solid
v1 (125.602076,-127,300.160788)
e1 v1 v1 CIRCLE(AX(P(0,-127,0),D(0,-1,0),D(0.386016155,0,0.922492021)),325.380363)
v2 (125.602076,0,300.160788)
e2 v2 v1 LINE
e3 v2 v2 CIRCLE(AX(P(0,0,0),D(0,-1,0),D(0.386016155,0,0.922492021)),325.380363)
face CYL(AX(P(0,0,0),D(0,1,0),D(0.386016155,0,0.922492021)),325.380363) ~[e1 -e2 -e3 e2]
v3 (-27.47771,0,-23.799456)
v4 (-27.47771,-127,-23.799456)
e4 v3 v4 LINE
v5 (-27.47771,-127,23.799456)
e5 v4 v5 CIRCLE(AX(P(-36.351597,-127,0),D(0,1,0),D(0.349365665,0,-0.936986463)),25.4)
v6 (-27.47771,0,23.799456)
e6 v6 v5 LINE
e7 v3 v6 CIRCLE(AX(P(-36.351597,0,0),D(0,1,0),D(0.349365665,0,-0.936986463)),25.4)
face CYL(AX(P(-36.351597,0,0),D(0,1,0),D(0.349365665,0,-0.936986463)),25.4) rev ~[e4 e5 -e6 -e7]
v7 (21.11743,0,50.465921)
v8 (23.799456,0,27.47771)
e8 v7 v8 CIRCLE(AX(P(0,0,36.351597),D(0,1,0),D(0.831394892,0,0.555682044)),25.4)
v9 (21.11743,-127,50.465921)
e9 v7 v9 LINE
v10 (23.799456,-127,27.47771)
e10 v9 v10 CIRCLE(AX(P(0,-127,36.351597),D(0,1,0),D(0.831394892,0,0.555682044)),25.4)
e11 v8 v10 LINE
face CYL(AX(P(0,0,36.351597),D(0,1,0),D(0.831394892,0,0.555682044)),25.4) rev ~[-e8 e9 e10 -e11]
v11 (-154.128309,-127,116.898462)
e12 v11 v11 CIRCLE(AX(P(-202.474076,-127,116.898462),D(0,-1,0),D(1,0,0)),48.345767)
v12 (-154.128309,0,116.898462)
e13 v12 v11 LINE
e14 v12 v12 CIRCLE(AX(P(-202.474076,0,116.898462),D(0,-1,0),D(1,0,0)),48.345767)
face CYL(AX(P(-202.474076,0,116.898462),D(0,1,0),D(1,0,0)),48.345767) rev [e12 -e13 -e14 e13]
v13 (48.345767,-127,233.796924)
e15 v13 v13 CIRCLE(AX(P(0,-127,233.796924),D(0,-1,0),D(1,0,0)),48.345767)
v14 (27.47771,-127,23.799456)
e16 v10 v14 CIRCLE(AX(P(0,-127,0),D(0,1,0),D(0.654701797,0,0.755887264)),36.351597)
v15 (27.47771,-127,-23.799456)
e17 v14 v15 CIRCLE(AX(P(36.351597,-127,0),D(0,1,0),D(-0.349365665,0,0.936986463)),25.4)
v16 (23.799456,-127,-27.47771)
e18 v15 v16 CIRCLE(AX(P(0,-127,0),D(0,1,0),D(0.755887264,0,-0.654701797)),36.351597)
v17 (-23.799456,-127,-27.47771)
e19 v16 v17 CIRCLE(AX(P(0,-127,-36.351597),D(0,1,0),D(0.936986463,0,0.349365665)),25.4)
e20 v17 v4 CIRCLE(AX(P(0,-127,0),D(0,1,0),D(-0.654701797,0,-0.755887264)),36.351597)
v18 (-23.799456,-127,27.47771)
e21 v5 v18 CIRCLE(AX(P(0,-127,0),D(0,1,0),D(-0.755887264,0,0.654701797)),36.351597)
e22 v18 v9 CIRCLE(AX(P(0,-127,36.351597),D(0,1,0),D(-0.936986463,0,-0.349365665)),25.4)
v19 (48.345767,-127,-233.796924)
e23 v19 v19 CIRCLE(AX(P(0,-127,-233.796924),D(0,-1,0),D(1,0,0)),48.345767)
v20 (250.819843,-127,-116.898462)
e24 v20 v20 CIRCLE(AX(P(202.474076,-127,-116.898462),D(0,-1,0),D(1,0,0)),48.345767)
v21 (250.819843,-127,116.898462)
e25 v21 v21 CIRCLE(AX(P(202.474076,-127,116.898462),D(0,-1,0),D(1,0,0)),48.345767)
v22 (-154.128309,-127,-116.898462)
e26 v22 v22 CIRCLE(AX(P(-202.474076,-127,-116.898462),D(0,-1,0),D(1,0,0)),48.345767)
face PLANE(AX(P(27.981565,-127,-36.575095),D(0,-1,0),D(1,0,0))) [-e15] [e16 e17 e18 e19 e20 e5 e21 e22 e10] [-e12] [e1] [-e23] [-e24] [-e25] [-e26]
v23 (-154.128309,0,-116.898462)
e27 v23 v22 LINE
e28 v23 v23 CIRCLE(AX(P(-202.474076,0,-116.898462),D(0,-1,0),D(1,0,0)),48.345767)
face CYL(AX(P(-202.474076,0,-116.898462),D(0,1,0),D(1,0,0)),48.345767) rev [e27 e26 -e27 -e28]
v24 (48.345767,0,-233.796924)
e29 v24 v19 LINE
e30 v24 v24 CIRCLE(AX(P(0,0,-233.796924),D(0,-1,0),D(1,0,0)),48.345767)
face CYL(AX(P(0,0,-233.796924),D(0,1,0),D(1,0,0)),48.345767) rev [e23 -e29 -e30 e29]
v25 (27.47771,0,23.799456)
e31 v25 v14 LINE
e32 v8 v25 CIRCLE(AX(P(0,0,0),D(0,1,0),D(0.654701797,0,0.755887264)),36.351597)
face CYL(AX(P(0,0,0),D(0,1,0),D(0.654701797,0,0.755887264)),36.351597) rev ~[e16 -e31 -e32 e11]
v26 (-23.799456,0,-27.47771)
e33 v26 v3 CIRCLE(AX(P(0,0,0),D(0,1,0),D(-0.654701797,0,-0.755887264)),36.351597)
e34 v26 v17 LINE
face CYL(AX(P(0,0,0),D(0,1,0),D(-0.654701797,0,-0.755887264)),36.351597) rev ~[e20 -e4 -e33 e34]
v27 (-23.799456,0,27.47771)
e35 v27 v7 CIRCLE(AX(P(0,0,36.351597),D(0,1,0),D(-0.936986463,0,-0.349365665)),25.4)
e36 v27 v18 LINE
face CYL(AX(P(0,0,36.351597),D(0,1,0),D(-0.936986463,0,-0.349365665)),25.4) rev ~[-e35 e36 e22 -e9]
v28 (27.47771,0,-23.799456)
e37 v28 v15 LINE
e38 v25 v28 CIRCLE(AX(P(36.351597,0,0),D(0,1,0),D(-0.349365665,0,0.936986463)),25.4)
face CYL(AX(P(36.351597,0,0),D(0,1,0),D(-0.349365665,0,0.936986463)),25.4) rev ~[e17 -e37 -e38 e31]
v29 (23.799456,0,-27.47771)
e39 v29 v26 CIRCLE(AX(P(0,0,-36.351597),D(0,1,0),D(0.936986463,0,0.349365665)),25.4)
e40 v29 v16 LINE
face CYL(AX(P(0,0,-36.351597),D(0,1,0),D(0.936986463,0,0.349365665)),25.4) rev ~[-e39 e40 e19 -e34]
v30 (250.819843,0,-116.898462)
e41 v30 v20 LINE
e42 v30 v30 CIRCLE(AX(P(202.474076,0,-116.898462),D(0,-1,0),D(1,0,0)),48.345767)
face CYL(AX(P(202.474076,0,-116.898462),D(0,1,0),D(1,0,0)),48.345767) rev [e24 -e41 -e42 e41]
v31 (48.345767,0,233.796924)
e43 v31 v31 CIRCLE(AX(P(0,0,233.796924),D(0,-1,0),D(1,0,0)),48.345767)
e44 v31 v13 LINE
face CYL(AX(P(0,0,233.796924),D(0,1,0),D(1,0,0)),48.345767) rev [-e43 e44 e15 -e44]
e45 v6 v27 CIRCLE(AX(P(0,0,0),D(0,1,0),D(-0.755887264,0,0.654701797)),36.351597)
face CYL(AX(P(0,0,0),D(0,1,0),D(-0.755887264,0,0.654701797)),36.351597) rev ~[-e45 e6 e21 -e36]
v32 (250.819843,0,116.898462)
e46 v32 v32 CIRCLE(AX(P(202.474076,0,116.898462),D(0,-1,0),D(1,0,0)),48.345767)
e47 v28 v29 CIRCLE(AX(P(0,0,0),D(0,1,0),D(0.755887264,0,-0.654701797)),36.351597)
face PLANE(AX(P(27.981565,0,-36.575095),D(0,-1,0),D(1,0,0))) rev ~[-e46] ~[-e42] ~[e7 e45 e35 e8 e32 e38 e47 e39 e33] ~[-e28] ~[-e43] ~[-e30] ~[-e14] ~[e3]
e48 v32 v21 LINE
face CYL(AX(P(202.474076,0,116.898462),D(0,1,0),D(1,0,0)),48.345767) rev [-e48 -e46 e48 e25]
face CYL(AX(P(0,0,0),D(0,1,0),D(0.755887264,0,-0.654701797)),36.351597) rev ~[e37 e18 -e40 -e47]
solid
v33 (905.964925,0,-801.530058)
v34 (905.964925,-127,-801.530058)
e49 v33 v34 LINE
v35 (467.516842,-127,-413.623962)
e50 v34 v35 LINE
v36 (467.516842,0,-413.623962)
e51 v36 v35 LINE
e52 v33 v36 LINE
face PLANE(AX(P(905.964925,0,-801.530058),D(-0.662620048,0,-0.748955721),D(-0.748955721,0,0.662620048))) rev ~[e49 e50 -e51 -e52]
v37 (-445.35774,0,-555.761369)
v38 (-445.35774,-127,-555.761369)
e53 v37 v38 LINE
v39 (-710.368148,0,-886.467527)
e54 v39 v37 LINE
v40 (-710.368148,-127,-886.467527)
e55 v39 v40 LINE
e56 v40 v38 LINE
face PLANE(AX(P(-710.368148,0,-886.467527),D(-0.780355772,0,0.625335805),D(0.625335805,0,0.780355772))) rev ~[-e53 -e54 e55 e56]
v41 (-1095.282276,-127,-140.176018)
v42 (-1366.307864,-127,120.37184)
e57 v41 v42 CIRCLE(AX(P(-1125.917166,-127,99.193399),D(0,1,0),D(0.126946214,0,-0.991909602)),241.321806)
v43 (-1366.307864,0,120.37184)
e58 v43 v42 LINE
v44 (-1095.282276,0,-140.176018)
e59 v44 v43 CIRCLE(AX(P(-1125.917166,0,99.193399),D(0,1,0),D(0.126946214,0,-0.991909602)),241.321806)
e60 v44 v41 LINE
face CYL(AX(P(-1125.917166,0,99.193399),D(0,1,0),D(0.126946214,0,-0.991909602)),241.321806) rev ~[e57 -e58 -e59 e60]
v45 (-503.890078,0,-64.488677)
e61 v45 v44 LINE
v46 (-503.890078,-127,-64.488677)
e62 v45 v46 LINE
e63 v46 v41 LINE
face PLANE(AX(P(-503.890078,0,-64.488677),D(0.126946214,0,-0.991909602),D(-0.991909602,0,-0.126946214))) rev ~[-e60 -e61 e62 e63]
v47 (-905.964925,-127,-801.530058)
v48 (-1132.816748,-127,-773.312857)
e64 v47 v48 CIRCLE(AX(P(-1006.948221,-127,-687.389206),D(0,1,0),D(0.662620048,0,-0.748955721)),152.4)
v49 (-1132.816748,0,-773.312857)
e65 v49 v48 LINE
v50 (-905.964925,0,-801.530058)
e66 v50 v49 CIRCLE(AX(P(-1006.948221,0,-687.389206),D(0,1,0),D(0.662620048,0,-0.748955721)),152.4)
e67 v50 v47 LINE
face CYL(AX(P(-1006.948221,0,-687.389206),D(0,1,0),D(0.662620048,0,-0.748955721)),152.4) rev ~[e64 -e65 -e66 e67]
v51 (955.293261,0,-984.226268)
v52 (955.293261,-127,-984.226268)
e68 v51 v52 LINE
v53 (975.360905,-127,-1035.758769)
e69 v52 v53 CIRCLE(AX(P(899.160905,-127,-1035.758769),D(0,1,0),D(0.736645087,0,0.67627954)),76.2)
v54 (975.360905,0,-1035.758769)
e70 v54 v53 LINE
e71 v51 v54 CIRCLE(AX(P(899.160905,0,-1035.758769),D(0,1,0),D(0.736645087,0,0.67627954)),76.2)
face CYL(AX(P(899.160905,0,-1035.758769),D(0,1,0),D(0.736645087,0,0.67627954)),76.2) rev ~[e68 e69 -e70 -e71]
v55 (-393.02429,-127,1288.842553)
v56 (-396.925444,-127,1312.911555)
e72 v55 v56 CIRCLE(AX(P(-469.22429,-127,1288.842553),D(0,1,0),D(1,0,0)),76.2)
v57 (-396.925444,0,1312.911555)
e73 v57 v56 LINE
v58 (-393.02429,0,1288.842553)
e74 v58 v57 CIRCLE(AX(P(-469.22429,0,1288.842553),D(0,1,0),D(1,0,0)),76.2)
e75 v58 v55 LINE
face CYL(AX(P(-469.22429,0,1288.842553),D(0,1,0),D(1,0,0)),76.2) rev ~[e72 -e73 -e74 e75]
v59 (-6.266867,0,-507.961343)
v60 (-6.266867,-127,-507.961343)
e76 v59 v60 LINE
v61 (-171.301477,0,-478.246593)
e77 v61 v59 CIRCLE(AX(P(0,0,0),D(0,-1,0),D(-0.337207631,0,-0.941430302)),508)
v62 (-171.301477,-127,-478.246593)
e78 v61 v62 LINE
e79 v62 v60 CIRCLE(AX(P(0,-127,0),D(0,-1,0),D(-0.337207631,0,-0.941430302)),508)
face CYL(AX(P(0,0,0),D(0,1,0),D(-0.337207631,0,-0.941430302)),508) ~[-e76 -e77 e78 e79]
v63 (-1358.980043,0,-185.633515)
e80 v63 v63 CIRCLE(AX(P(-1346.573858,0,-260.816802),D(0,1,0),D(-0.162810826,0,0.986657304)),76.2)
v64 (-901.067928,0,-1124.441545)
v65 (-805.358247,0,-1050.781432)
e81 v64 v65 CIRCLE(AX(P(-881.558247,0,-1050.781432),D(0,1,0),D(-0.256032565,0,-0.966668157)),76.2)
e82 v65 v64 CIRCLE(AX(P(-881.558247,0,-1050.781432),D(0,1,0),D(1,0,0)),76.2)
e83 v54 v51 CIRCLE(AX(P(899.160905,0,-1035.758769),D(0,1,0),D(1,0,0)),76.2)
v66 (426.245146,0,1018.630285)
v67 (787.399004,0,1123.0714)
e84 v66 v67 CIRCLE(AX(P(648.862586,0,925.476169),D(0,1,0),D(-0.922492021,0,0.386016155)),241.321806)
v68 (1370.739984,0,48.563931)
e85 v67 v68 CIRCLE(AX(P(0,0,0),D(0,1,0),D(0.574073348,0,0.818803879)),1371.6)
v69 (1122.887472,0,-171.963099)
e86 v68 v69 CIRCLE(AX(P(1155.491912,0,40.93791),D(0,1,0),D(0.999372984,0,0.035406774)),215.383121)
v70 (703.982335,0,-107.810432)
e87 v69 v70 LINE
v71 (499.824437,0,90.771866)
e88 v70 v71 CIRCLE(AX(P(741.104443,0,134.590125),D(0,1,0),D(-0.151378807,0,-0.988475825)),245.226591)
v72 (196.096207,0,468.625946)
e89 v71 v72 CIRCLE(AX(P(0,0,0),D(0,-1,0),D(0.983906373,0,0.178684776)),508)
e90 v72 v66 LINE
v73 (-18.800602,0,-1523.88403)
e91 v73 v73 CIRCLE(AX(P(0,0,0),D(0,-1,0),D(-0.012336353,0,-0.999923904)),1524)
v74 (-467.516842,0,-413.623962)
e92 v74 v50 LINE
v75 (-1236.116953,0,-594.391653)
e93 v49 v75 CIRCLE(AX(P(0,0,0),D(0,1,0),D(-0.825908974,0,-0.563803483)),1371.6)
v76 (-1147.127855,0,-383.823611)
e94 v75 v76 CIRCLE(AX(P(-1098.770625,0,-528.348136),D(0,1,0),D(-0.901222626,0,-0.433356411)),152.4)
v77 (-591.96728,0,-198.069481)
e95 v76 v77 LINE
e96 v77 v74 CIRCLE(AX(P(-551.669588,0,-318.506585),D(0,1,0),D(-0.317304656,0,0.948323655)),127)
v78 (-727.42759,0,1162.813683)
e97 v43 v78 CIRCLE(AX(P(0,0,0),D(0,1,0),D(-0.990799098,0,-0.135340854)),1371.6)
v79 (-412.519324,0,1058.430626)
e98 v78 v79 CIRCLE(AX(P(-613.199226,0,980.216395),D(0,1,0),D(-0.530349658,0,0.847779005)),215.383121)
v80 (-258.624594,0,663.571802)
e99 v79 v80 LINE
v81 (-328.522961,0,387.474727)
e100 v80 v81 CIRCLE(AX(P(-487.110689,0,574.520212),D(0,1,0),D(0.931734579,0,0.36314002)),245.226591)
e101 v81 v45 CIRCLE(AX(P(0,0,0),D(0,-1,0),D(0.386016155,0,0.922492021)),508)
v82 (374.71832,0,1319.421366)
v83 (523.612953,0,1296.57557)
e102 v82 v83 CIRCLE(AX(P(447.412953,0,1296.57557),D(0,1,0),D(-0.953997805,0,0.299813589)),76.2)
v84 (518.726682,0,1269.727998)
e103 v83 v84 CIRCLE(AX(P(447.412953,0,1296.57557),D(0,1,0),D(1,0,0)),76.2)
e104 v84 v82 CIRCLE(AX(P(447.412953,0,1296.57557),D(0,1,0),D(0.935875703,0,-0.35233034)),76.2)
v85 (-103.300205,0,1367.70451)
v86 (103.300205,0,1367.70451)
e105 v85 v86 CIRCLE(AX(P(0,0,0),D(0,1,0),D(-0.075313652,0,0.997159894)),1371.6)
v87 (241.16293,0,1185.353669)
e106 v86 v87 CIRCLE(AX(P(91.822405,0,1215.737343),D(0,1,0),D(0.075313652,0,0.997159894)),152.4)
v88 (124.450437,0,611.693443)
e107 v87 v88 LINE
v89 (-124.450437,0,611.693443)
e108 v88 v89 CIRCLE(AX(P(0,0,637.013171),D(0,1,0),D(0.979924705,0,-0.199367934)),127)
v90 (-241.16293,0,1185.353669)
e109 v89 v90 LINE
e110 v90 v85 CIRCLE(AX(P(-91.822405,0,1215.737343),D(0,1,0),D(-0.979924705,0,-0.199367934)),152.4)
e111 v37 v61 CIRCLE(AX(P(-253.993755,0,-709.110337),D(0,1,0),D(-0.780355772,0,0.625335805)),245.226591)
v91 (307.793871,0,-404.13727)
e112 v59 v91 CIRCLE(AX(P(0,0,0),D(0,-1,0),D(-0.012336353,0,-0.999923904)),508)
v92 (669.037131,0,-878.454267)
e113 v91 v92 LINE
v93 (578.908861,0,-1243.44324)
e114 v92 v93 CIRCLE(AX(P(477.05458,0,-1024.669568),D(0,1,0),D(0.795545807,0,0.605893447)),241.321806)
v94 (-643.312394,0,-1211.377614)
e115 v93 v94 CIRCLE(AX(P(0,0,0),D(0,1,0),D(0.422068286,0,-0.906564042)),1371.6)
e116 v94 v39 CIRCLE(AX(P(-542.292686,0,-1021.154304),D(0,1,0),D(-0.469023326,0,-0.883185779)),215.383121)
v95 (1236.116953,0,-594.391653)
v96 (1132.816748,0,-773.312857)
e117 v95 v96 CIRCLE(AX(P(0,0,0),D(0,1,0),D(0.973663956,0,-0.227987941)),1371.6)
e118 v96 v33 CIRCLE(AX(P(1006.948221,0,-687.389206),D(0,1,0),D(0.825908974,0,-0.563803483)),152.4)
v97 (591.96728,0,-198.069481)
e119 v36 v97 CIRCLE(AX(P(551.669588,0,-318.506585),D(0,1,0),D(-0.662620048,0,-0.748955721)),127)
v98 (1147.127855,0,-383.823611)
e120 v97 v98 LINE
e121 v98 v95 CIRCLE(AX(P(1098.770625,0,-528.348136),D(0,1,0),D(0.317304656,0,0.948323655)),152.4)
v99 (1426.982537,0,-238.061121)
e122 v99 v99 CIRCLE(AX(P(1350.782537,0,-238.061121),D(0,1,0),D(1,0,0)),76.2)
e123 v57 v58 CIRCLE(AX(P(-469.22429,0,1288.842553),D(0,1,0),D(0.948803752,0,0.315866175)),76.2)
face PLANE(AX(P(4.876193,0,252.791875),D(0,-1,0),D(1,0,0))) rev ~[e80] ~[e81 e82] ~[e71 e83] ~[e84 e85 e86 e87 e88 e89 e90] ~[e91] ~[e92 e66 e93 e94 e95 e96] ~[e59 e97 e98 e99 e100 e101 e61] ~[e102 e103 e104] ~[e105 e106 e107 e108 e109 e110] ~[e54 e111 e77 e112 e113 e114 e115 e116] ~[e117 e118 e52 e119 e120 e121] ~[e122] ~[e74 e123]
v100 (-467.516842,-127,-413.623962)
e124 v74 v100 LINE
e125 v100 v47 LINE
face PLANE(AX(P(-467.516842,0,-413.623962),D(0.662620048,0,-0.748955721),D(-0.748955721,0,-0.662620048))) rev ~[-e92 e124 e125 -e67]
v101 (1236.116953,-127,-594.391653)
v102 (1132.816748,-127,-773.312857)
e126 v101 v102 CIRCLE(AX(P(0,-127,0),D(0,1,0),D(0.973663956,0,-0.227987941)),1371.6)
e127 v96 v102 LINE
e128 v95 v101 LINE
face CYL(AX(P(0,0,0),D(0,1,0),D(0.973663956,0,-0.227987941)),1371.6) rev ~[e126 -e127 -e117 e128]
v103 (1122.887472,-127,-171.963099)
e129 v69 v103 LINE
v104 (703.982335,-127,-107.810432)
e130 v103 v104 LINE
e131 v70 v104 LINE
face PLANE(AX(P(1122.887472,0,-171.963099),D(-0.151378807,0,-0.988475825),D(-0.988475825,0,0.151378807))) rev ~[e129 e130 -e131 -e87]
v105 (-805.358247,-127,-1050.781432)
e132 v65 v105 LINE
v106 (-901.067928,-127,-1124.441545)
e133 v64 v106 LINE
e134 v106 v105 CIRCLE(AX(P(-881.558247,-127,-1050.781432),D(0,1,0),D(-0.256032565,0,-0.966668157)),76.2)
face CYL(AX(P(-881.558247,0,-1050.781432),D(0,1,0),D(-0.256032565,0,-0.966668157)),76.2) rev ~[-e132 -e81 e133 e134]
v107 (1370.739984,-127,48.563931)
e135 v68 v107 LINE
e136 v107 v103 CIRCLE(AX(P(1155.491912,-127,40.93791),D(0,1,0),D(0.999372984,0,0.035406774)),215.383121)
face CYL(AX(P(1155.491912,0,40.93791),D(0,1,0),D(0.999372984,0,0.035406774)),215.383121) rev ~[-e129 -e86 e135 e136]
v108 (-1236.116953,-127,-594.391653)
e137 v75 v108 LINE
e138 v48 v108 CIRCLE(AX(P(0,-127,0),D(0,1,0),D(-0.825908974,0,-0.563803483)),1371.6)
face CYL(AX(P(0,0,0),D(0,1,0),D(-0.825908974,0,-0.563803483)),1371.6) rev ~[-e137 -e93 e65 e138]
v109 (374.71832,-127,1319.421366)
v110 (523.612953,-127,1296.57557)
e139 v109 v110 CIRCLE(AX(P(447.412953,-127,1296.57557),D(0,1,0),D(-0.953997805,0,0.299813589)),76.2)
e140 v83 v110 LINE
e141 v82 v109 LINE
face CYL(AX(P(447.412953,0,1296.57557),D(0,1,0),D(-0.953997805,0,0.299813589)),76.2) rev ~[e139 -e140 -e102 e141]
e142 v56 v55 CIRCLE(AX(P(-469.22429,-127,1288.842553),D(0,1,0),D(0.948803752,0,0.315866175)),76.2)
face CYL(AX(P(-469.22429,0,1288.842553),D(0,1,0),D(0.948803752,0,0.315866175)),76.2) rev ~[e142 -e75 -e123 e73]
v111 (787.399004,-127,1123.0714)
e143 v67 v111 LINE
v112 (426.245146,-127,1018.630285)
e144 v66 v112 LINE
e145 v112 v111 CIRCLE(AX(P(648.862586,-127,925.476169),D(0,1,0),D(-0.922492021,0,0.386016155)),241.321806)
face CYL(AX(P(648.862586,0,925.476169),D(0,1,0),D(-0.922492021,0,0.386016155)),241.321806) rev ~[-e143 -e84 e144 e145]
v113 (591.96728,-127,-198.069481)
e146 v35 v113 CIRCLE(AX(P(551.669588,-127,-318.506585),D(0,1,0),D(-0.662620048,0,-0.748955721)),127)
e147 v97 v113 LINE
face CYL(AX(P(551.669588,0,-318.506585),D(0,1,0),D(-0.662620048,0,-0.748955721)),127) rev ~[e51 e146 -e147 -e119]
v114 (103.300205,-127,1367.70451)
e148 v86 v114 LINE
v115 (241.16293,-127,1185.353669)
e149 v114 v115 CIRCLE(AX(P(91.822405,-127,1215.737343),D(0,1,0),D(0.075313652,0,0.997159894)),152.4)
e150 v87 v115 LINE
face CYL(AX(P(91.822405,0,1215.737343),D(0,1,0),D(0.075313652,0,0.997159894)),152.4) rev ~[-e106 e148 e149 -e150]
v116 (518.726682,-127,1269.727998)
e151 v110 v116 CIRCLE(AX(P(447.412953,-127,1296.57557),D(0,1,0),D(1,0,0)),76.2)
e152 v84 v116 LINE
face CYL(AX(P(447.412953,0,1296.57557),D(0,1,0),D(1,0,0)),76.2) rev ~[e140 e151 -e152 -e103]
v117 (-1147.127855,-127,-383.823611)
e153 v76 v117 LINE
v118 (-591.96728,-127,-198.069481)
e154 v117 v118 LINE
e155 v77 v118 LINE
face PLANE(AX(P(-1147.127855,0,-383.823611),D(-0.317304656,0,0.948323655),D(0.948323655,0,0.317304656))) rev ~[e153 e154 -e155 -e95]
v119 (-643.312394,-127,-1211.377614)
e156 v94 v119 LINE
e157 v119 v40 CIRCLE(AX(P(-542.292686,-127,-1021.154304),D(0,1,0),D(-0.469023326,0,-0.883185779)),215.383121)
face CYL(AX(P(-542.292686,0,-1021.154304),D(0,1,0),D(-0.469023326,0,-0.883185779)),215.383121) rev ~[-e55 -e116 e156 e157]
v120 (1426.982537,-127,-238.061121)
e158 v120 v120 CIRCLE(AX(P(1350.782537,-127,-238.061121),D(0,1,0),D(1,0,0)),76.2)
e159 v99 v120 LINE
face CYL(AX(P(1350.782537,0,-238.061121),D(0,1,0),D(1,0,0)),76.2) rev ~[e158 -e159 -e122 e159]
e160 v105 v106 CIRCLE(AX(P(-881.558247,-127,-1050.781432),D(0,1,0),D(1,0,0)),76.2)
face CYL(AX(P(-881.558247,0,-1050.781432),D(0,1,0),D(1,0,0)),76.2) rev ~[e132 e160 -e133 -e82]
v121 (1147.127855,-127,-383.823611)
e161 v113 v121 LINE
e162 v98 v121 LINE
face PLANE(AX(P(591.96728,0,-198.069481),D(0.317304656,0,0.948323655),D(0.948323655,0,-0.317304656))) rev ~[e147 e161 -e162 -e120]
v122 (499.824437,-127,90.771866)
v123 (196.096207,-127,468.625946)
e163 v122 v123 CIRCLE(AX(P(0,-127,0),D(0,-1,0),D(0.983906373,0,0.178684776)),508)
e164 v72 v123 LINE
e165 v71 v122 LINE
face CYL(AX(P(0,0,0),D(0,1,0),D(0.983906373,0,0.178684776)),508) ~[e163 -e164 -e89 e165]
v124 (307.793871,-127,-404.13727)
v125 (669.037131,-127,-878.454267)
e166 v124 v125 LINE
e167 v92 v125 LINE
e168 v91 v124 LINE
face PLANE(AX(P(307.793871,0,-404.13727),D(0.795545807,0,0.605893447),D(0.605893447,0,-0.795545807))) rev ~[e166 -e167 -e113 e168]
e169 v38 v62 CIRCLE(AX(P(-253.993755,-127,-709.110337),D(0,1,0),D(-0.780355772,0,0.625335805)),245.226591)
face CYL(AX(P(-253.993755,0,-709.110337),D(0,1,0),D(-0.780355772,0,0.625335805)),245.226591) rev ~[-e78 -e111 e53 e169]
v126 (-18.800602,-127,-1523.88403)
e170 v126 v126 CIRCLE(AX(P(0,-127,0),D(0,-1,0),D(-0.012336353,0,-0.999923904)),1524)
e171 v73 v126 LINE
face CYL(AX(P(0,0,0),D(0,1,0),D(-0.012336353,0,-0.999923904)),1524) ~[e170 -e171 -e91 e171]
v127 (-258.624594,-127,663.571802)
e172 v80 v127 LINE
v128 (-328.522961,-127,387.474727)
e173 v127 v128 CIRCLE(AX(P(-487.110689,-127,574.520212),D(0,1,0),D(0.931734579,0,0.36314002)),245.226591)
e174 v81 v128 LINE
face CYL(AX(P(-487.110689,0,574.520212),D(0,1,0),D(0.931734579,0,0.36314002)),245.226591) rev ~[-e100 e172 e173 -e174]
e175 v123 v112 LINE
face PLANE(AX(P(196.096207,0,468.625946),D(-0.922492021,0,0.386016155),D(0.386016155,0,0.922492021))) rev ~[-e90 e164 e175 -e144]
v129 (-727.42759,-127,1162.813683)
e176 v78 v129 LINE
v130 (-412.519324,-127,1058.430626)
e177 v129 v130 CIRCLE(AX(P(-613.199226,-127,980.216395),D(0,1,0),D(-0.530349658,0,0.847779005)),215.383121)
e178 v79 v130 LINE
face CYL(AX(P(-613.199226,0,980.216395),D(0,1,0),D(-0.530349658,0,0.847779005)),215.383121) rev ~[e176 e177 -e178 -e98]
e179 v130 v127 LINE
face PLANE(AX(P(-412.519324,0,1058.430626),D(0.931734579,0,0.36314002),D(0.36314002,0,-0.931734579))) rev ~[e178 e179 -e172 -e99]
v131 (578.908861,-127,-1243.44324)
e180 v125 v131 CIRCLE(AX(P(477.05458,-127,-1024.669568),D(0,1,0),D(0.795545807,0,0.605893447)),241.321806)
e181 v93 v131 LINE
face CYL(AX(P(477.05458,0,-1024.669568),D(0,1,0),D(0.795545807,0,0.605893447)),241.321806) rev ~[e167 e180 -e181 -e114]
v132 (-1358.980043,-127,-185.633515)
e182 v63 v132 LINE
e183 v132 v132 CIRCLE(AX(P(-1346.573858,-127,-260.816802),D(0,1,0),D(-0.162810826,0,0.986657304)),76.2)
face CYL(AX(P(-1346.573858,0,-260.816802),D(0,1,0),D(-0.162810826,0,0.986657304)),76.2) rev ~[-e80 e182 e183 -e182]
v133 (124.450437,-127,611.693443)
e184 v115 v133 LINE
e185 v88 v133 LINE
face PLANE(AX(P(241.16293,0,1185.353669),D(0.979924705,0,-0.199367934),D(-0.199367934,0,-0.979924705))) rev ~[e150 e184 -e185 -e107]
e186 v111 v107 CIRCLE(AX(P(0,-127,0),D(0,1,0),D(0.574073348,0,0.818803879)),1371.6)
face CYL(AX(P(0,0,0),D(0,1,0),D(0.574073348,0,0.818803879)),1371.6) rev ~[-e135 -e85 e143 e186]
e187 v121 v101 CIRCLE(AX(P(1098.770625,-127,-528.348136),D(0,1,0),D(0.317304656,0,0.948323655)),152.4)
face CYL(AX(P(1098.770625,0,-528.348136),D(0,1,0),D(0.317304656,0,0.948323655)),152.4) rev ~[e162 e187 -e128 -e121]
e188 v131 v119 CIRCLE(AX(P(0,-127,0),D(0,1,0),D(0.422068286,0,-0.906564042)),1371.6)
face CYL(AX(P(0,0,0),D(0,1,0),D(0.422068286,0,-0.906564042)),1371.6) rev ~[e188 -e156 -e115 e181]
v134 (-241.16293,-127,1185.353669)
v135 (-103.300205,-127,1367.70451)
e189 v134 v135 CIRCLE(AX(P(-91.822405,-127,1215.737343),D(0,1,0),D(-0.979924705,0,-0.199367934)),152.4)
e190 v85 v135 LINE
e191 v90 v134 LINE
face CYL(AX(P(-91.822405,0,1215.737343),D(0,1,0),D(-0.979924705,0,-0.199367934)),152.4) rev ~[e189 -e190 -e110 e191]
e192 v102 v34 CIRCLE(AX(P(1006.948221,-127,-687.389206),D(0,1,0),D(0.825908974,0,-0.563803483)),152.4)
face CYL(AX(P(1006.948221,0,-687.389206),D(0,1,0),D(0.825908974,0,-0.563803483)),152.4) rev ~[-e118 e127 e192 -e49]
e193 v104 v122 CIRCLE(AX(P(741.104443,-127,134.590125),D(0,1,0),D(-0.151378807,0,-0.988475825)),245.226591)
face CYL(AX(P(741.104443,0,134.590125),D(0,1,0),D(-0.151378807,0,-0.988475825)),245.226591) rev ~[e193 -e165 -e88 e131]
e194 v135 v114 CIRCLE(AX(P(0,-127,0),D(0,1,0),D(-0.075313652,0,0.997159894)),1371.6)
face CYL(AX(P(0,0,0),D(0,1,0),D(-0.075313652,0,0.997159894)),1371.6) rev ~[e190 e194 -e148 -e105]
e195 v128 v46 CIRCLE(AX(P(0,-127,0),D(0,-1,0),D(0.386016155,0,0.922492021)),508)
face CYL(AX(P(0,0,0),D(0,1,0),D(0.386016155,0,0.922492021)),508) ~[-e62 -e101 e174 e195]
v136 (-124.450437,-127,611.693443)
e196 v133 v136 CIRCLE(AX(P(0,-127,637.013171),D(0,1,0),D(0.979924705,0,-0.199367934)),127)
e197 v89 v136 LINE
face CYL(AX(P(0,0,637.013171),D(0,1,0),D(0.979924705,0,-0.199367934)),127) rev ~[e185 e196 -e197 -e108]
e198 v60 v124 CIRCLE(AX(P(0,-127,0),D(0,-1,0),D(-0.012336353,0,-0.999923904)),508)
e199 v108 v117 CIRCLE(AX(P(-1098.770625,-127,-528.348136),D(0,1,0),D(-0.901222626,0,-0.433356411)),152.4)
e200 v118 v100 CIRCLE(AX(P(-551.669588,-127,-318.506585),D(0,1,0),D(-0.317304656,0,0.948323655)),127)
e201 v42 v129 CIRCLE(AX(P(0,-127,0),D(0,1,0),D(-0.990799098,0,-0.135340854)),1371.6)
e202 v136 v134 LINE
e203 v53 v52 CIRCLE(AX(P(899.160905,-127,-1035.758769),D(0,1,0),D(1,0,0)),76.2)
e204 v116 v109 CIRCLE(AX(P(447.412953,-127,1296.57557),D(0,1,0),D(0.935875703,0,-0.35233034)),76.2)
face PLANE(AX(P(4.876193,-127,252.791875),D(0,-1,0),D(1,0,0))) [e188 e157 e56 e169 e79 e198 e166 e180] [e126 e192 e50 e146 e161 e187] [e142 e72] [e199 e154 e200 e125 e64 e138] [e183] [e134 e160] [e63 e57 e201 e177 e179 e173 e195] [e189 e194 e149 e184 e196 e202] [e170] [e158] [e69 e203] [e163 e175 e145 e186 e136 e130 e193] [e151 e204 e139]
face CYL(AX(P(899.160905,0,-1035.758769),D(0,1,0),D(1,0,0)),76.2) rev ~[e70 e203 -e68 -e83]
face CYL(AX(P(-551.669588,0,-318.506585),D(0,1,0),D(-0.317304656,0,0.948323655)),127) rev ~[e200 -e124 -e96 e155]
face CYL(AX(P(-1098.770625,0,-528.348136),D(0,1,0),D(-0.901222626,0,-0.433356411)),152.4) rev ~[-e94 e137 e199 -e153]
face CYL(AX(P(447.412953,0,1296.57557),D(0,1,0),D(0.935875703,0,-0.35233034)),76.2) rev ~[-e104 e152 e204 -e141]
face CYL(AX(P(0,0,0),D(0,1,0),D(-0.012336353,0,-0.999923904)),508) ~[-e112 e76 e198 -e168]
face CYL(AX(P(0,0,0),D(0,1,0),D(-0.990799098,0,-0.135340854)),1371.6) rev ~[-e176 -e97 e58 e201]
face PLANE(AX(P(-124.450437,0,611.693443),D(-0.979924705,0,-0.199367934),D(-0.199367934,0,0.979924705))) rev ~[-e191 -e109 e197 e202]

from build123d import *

# Parameters (mm, degrees)
F2_DEPTH = 127
F1_R     = 48.3457667833


with BuildPart() as f2:
    # F0 (on Front) → F2 (new body)
    with BuildSketch(Plane.XZ):
        with BuildLine():
            ThreePointArc((923.3816135664, -1212.4118094639), (1365.6151689029, -676.5140135004), (1524, 0))
            ThreePointArc((1524, 0), (-659.6158227538, 1373.8569672178), (-953.0117668935, -1189.2621965582))
            Line((-953.0117668935, -1189.2621965582), (-901.06792843, -1124.4415452559))
            ThreePointArc((-901.06792843, -1124.4415452559), (-954.5101555684, -1072.7918617611), (-938.5520375408, -1000.2032957494))
            ThreePointArc((-938.5520375408, -1000.2032957494), (-1041.879061799, -892.0619824793), (-1132.816748196, -773.3128571327))
            ThreePointArc((-1132.816748196, -773.3128571327), (-1187.8404438307, -685.8), (-1236.116953448, -594.3916532039))
            ThreePointArc((-1236.116953448, -594.3916532039), (-1289.592814675, -467.158358952), (-1330.0115812275, -335.1950981158))
            ThreePointArc((-1330.0115812275, -335.1950981158), (-1421.3835171304, -275.3066240214), (-1358.9800432853, -185.6335151645))
            ThreePointArc((-1358.9800432853, -185.6335151645), (-1371.2069005805, -32.8358919538), (-1366.3078643285, 120.3718400376))
            ThreePointArc((-1366.3078643285, 120.3718400376), (-1169.4457180172, 716.7170101311), (-727.4275903268, 1162.8136827675))
            ThreePointArc((-727.4275903268, 1162.8136827675), (-545.4318092729, 1184.6606808968), (-412.5193238552, 1058.4306255663))
            Line((-412.5193238552, 1058.4306255663), (-258.6245941259, 663.5718016536))
            ThreePointArc((-258.6245941259, 663.5718016536), (-249.3840923253, 514.3359426127), (-328.5229608551, 387.4747271643))
            ThreePointArc((-328.5229608551, 387.4747271643), (-77.6568825305, 502.0292905754), (196.0962066869, 468.6259464893))
            Line((196.0962066869, 468.6259464893), (274.916742518, 656.989346428))
            Line((274.916742518, 656.989346428), (426.2451457015, 1018.6302846731))
            ThreePointArc((426.2451457015, 1018.6302846731), (581.8223651272, 1157.2989954769), (787.3990035371, 1123.0713998802))
            ThreePointArc((787.3990035371, 1123.0713998802), (1205.4179971066, 654.4111950843), (1370.7399843082, 48.5639312529))
            ThreePointArc((1370.7399843082, 48.5639312529), (1370.4056079427, -57.2278753689), (1361.918510577, -162.6792259253))
            ThreePointArc((1361.918510577, -162.6792259253), (1408.4670288991, -188.2721722387), (1426.9825371601, -238.0611209403))
            ThreePointArc((1426.9825371601, -238.0611209403), (1398.9499264628, -297.1063799181), (1335.4774818383, -312.7082594092))
            ThreePointArc((1335.4774818383, -312.7082594092), (1293.4878694769, -456.2627439493), (1236.116953448, -594.3916532039))
            ThreePointArc((1236.116953448, -594.3916532039), (1187.8404438307, -685.8), (1132.816748196, -773.3128571327))
            ThreePointArc((1132.816748196, -773.3128571327), (1049.3674137801, -883.2409585704), (955.293260806, -984.2262676126))
            ThreePointArc((955.293260806, -984.2262676126), (970.1669806175, -1008.1077784909), (975.3609051769, -1035.7587685371))
            ThreePointArc((975.3609051769, -1035.7587685371), (924.8288343597, -1107.5055274288), (840.2533615689, -1084.0944831389))
            ThreePointArc((840.2533615689, -1084.0944831389), (835.655896823, -1087.6423043009), (831.0434522097, -1091.1706285175))
            Line((831.0434522097, -1091.1706285175), (923.3816135664, -1212.4118094639))
        make_face()
        with BuildLine():
            ThreePointArc((124.4504374868, 611.6934428334), (0, 510.0131705043), (-124.4504374868, 611.6934428334))
            Line((-124.4504374868, 611.6934428334), (-241.1629296527, 1185.3536693162))
            ThreePointArc((-241.1629296527, 1185.3536693162), (-213.3896320154, 1307.6458254551), (-103.300205252, 1367.7045103365))
            ThreePointArc((-103.300205252, 1367.7045103365), (0, 1371.6), (103.300205252, 1367.7045103365))
            ThreePointArc((103.300205252, 1367.7045103365), (213.3896320154, 1307.6458254551), (241.1629296527, 1185.3536693162))
            Line((241.1629296527, 1185.3536693162), (124.4504374868, 611.6934428334))
        make_face(mode=Mode.SUBTRACT)
        with BuildLine():
            ThreePointArc((-393.0242901923, 1288.8425526392), (-454.9480416585, 1213.991843038), (-540.0749129692, 1260.7956410066))
            ThreePointArc((-540.0749129692, 1260.7956410066), (-495.2923063141, 1360.4449166747), (-396.9254442975, 1312.9115551587))
            ThreePointArc((-396.9254442975, 1312.9115551587), (-394.0059012931, 1301.0341059204), (-393.0242901923, 1288.8425526392))
        make_face(mode=Mode.SUBTRACT)
        with BuildLine():
            ThreePointArc((523.6129531571, 1296.5755702416), (522.381433588, 1282.9312695306), (518.7266817164, 1269.7279983034))
            ThreePointArc((518.7266817164, 1269.7279983034), (422.5566779817, 1224.543594117), (374.7183204215, 1319.4213657284))
            ThreePointArc((374.7183204215, 1319.4213657284), (458.9695310577, 1371.8941304192), (523.6129531571, 1296.5755702416))
        make_face(mode=Mode.SUBTRACT)
        with BuildLine():
            Line((-901.06792843, -1124.4415452559), (-953.0117668935, -1189.2621965582))
            ThreePointArc((-953.0117668935, -1189.2621965582), (-513.9044298634, -1434.7397802273), (-18.8006021438, -1523.8840301542))
            Line((-18.8006021438, -1523.8840301542), (-16.9205419294, -1371.4956271388))
            ThreePointArc((-16.9205419294, -1371.4956271388), (-339.6856295851, -1328.8717895468), (-643.3123939814, -1211.3776140205))
            ThreePointArc((-643.3123939814, -1211.3776140205), (-753.2303398848, -1064.6881433109), (-710.3681479563, -886.4675267937))
            Line((-710.3681479563, -886.4675267937), (-445.3577404041, -555.7613693833))
            ThreePointArc((-445.3577404041, -555.7613693833), (-320.7359462194, -473.1409305597), (-171.3014766211, -478.2465934091))
            ThreePointArc((-171.3014766211, -478.2465934091), (-247.8856351667, -443.4148304669), (-317.6705889645, -396.4207321861))
            ThreePointArc((-317.6705889645, -396.4207321861), (-443.0408612023, -248.5534053381), (-503.8900778757, -64.488676668))
            Line((-503.8900778757, -64.488676668), (-706.4278352814, -90.4097902677))
            Line((-706.4278352814, -90.4097902677), (-1095.2822764419, -140.1760179192))
            ThreePointArc((-1095.2822764419, -140.1760179192), (-1293.1615124208, -74.7765490483), (-1366.3078643285, 120.3718400376))
            ThreePointArc((-1366.3078643285, 120.3718400376), (-1371.2069005805, -32.8358919538), (-1358.9800432853, -185.6335151645))
            ThreePointArc((-1358.9800432853, -185.6335151645), (-1297.273307086, -202.7143435238), (-1270.373858334, -260.8168017045))
            ThreePointArc((-1270.373858334, -260.8168017045), (-1287.124360794, -308.484371836), (-1330.0115812275, -335.1950981158))
            ThreePointArc((-1330.0115812275, -335.1950981158), (-1289.592814675, -467.158358952), (-1236.116953448, -594.3916532039))
            ThreePointArc((-1236.116953448, -594.3916532038), (-1239.1493200045, -469.022070498), (-1147.1278549233, -383.8236111278))
            Line((-1147.1278549233, -383.8236111278), (-591.9672795655, -198.069481041))
            ThreePointArc((-591.9672795655, -198.069481041), (-441.6843619214, -255.0065852522), (-467.5168420786, -413.6239617924))
            Line((-467.5168420786, -413.6239617924), (-905.9649252706, -801.5300581884))
            ThreePointArc((-905.9649252706, -801.5300581884), (-1025.7596879891, -838.6237549571), (-1132.816748196, -773.3128571327))
            ThreePointArc((-1132.816748196, -773.3128571327), (-1041.879061799, -892.0619824793), (-938.5520375408, -1000.2032957494))
            ThreePointArc((-938.5520375408, -1000.2032957494), (-854.5072473713, -979.5446194398), (-805.3582469678, -1050.7814316989))
            ThreePointArc((-805.3582469678, -1050.7814316989), (-835.0835104296, -1111.1680102053), (-901.06792843, -1124.4415452559))
        make_face()
        with BuildLine():
            ThreePointArc((-18.8006021438, -1523.8840301542), (478.3517927446, -1446.9815349126), (923.3816135664, -1212.4118094639))
            Line((923.3816135664, -1212.4118094639), (831.0434522097, -1091.1706285175))
            ThreePointArc((831.0434522097, -1091.1706285175), (835.655896823, -1087.6423043009), (840.2533615689, -1084.0944831389))
            ThreePointArc((840.2533615689, -1084.0944831389), (849.207521556, -978.2166147295), (955.293260806, -984.2262676126))
            ThreePointArc((955.293260806, -984.2262676126), (1049.3674137801, -883.2409585704), (1132.816748196, -773.3128571327))
            ThreePointArc((1132.816748196, -773.3128571327), (1025.7596879891, -838.6237549571), (905.9649252706, -801.5300581884))
            Line((905.9649252706, -801.5300581884), (467.5168420786, -413.6239617924))
            ThreePointArc((467.5168420786, -413.6239617924), (441.6843619214, -255.0065852522), (591.9672795655, -198.069481041))
            Line((591.9672795655, -198.069481041), (1147.1278549233, -383.8236111278))
            ThreePointArc((1147.1278549233, -383.8236111278), (1239.1493200045, -469.022070498), (1236.116953448, -594.3916532038))
            ThreePointArc((1236.116953448, -594.3916532039), (1293.4878694769, -456.2627439493), (1335.4774818383, -312.7082594092))
            ThreePointArc((1335.4774818383, -312.7082594092), (1275.7390628734, -224.8355031103), (1361.918510577, -162.6792259253))
            ThreePointArc((1361.918510577, -162.6792259253), (1370.4056079427, -57.2278753689), (1370.7399843082, 48.5639312529))
            ThreePointArc((1370.7399843082, 48.5639312529), (1298.6621491577, -119.972537586), (1122.8874718115, -171.9630987726))
            Line((1122.8874718115, -171.9630987726), (703.98233453, -107.8104322703))
            ThreePointArc((703.98233453, -107.8104322703), (570.1200385446, -41.1950120529), (499.8244374762, 90.7718662449))
            ThreePointArc((499.8244374762, 90.7718662449), (505.9519810407, 45.5696486824), (508, 0))
            ThreePointArc((508, 0), (455.205056301, -225.5046711668), (307.7938711888, -404.1372698213))
            Line((307.7938711888, -404.1372698213), (431.5110927634, -566.5795561603))
            Line((431.5110927634, -566.5795561603), (669.0371307403, -878.4542667539))
            ThreePointArc((669.0371307403, -878.4542667539), (711.3391472936, -1082.5224464286), (578.9088607914, -1243.4432399177))
            ThreePointArc((578.9088607914, -1243.4432399177), (288.1962371416, -1340.9807936348), (-16.9205419294, -1371.4956271388))
            Line((-16.9205419294, -1371.4956271388), (-18.8006021438, -1523.8840301542))
        make_face()
        with BuildLine():
            Line((0, 0), (-6.2668673813, -507.9613433847))
            ThreePointArc((-6.2668673813, -507.9613433847), (77.6568825305, -502.0292905754), (159.4505975815, -482.3271783042))
            ThreePointArc((159.4505975815, -482.3271783042), (236.8707745718, -449.3954118076), (307.7938711888, -404.1372698213))
            Line((307.7938711888, -404.1372698213), (0, 0))
        make_face()
        with BuildLine():
            ThreePointArc((-171.3014766211, -478.2465934091), (-90.0187246603, -499.9606276604), (-6.2668673813, -507.9613433847))
            Line((-6.2668673813, -507.9613433847), (0, 0))
            Line((0, 0), (-317.6705889645, -396.4207321861))
            ThreePointArc((-317.6705889645, -396.4207321861), (-247.8856351667, -443.4148304669), (-171.3014766211, -478.2465934091))
        make_face()
        with BuildLine():
            Line((-317.6705889645, -396.4207321861), (0, 0))
            Line((0, 0), (-503.8900778757, -64.488676668))
            ThreePointArc((-503.8900778757, -64.488676668), (-443.0408612023, -248.5534053381), (-317.6705889645, -396.4207321861))
        make_face()
        with BuildLine():
            Line((-503.8900778757, -64.488676668), (0, 0))
            Line((0, 0), (196.0962066869, 468.6259464893))
            ThreePointArc((196.0962066869, 468.6259464893), (-77.6568825305, 502.0292905754), (-328.5229608551, 387.4747271643))
            ThreePointArc((-328.5229608551, 387.4747271643), (-436.773993821, 259.4079380467), (-497.4328881379, 103.0753209979))
            ThreePointArc((-497.4328881379, 103.0753209979), (-507.6232302555, 19.5615977105), (-503.8900778757, -64.488676668))
        make_face()
        with BuildLine():
            Line((196.0962066869, 468.6259464893), (0, 0))
            Line((0, 0), (307.7938711888, -404.1372698213))
            ThreePointArc((307.7938711888, -404.1372698213), (455.205056301, -225.5046711668), (508, 0))
            ThreePointArc((508, 0), (505.9519810407, 45.5696486824), (499.8244374762, 90.7718662449))
            ThreePointArc((499.8244374762, 90.7718662449), (443.0408612023, 248.553405338), (337.9822905563, 379.2518573063))
            ThreePointArc((337.9822905563, 379.2518573063), (270.7524556836, 429.8338140971), (196.0962066869, 468.6259464893))
        make_face()
    extrude(amount=F2_DEPTH)


with BuildPart() as f2b:
    # F1 (on face) → F2, piece 2 (new body)
    with BuildSketch(Plane.XZ):
        with BuildLine():
            ThreePointArc((-23.7994561642, -27.4777095143), (-25.7044610318, -25.7044610318), (-27.4777095143, -23.7994561642))
            ThreePointArc((-27.4777095143, -23.7994561642), (-47.4444941601, -22.849674868), (-60.5409838541, -7.7481341752))
            Line((-60.5409838541, -7.7481341752), (-322.7479060277, -41.3058051169))
            ThreePointArc((-322.7479060277, -41.3058051169), (20.6948022707, -324.721581575), (325.3803626244, 0))
            ThreePointArc((325.3803626244, 0), (270.8697376657, 180.2830152802), (125.6020764588, 300.1607881967))
            Line((125.6020764588, 300.1607881967), (21.1174302498, 50.465921322))
            ThreePointArc((21.1174302498, 50.465921322), (25.2288751594, 39.2950406587), (23.7994561642, 27.4777095143))
            ThreePointArc((23.7994561642, 27.4777095143), (25.7044610318, 25.7044610318), (27.4777095143, 23.7994561642))
            ThreePointArc((27.4777095143, 23.7994561642), (61.7515974046, 0), (27.4777095143, -23.7994561642))
            ThreePointArc((27.4777095143, -23.7994561642), (25.7044610318, -25.7044610318), (23.7994561642, -27.4777095143))
            ThreePointArc((23.7994561642, -27.4777095143), (0, -61.7515974046), (-23.7994561642, -27.4777095143))
        make_face()
        with Locations((-202.4740758161, -116.8984621763)):
            Circle(F1_R, mode=Mode.SUBTRACT)
        with Locations((0, -233.7969243526)):
            Circle(F1_R, mode=Mode.SUBTRACT)
        with Locations((202.4740758161, -116.8984621763)):
            Circle(F1_R, mode=Mode.SUBTRACT)
        with Locations((202.4740758161, 116.8984621763)):
            Circle(F1_R, mode=Mode.SUBTRACT)
        with BuildLine():
            Line((-322.7479060277, -41.3058051169), (-60.5409838541, -7.7481341752))
            ThreePointArc((-60.5409838541, -7.7481341752), (-53.885956192, 18.3767859517), (-27.4777095143, 23.7994561642))
            ThreePointArc((-27.4777095143, 23.7994561642), (-25.7044610318, 25.7044610318), (-23.7994561642, 27.4777095143))
            ThreePointArc((-23.7994561642, 27.4777095143), (-11.5720692307, 58.9623738999), (21.1174302498, 50.465921322))
            Line((21.1174302498, 50.465921322), (125.6020764588, 300.1607881967))
            ThreePointArc((125.6020764588, 300.1607881967), (-197.1458295689, 258.8549830797), (-322.7479060277, -41.3058051169))
        make_face()
        with Locations((-202.4740758161, 116.8984621763)):
            Circle(F1_R, mode=Mode.SUBTRACT)
        with Locations((0, 233.7969243526)):
            Circle(F1_R, mode=Mode.SUBTRACT)
    extrude(amount=F2_DEPTH)


solid = Compound([f2.part, f2b.part])
